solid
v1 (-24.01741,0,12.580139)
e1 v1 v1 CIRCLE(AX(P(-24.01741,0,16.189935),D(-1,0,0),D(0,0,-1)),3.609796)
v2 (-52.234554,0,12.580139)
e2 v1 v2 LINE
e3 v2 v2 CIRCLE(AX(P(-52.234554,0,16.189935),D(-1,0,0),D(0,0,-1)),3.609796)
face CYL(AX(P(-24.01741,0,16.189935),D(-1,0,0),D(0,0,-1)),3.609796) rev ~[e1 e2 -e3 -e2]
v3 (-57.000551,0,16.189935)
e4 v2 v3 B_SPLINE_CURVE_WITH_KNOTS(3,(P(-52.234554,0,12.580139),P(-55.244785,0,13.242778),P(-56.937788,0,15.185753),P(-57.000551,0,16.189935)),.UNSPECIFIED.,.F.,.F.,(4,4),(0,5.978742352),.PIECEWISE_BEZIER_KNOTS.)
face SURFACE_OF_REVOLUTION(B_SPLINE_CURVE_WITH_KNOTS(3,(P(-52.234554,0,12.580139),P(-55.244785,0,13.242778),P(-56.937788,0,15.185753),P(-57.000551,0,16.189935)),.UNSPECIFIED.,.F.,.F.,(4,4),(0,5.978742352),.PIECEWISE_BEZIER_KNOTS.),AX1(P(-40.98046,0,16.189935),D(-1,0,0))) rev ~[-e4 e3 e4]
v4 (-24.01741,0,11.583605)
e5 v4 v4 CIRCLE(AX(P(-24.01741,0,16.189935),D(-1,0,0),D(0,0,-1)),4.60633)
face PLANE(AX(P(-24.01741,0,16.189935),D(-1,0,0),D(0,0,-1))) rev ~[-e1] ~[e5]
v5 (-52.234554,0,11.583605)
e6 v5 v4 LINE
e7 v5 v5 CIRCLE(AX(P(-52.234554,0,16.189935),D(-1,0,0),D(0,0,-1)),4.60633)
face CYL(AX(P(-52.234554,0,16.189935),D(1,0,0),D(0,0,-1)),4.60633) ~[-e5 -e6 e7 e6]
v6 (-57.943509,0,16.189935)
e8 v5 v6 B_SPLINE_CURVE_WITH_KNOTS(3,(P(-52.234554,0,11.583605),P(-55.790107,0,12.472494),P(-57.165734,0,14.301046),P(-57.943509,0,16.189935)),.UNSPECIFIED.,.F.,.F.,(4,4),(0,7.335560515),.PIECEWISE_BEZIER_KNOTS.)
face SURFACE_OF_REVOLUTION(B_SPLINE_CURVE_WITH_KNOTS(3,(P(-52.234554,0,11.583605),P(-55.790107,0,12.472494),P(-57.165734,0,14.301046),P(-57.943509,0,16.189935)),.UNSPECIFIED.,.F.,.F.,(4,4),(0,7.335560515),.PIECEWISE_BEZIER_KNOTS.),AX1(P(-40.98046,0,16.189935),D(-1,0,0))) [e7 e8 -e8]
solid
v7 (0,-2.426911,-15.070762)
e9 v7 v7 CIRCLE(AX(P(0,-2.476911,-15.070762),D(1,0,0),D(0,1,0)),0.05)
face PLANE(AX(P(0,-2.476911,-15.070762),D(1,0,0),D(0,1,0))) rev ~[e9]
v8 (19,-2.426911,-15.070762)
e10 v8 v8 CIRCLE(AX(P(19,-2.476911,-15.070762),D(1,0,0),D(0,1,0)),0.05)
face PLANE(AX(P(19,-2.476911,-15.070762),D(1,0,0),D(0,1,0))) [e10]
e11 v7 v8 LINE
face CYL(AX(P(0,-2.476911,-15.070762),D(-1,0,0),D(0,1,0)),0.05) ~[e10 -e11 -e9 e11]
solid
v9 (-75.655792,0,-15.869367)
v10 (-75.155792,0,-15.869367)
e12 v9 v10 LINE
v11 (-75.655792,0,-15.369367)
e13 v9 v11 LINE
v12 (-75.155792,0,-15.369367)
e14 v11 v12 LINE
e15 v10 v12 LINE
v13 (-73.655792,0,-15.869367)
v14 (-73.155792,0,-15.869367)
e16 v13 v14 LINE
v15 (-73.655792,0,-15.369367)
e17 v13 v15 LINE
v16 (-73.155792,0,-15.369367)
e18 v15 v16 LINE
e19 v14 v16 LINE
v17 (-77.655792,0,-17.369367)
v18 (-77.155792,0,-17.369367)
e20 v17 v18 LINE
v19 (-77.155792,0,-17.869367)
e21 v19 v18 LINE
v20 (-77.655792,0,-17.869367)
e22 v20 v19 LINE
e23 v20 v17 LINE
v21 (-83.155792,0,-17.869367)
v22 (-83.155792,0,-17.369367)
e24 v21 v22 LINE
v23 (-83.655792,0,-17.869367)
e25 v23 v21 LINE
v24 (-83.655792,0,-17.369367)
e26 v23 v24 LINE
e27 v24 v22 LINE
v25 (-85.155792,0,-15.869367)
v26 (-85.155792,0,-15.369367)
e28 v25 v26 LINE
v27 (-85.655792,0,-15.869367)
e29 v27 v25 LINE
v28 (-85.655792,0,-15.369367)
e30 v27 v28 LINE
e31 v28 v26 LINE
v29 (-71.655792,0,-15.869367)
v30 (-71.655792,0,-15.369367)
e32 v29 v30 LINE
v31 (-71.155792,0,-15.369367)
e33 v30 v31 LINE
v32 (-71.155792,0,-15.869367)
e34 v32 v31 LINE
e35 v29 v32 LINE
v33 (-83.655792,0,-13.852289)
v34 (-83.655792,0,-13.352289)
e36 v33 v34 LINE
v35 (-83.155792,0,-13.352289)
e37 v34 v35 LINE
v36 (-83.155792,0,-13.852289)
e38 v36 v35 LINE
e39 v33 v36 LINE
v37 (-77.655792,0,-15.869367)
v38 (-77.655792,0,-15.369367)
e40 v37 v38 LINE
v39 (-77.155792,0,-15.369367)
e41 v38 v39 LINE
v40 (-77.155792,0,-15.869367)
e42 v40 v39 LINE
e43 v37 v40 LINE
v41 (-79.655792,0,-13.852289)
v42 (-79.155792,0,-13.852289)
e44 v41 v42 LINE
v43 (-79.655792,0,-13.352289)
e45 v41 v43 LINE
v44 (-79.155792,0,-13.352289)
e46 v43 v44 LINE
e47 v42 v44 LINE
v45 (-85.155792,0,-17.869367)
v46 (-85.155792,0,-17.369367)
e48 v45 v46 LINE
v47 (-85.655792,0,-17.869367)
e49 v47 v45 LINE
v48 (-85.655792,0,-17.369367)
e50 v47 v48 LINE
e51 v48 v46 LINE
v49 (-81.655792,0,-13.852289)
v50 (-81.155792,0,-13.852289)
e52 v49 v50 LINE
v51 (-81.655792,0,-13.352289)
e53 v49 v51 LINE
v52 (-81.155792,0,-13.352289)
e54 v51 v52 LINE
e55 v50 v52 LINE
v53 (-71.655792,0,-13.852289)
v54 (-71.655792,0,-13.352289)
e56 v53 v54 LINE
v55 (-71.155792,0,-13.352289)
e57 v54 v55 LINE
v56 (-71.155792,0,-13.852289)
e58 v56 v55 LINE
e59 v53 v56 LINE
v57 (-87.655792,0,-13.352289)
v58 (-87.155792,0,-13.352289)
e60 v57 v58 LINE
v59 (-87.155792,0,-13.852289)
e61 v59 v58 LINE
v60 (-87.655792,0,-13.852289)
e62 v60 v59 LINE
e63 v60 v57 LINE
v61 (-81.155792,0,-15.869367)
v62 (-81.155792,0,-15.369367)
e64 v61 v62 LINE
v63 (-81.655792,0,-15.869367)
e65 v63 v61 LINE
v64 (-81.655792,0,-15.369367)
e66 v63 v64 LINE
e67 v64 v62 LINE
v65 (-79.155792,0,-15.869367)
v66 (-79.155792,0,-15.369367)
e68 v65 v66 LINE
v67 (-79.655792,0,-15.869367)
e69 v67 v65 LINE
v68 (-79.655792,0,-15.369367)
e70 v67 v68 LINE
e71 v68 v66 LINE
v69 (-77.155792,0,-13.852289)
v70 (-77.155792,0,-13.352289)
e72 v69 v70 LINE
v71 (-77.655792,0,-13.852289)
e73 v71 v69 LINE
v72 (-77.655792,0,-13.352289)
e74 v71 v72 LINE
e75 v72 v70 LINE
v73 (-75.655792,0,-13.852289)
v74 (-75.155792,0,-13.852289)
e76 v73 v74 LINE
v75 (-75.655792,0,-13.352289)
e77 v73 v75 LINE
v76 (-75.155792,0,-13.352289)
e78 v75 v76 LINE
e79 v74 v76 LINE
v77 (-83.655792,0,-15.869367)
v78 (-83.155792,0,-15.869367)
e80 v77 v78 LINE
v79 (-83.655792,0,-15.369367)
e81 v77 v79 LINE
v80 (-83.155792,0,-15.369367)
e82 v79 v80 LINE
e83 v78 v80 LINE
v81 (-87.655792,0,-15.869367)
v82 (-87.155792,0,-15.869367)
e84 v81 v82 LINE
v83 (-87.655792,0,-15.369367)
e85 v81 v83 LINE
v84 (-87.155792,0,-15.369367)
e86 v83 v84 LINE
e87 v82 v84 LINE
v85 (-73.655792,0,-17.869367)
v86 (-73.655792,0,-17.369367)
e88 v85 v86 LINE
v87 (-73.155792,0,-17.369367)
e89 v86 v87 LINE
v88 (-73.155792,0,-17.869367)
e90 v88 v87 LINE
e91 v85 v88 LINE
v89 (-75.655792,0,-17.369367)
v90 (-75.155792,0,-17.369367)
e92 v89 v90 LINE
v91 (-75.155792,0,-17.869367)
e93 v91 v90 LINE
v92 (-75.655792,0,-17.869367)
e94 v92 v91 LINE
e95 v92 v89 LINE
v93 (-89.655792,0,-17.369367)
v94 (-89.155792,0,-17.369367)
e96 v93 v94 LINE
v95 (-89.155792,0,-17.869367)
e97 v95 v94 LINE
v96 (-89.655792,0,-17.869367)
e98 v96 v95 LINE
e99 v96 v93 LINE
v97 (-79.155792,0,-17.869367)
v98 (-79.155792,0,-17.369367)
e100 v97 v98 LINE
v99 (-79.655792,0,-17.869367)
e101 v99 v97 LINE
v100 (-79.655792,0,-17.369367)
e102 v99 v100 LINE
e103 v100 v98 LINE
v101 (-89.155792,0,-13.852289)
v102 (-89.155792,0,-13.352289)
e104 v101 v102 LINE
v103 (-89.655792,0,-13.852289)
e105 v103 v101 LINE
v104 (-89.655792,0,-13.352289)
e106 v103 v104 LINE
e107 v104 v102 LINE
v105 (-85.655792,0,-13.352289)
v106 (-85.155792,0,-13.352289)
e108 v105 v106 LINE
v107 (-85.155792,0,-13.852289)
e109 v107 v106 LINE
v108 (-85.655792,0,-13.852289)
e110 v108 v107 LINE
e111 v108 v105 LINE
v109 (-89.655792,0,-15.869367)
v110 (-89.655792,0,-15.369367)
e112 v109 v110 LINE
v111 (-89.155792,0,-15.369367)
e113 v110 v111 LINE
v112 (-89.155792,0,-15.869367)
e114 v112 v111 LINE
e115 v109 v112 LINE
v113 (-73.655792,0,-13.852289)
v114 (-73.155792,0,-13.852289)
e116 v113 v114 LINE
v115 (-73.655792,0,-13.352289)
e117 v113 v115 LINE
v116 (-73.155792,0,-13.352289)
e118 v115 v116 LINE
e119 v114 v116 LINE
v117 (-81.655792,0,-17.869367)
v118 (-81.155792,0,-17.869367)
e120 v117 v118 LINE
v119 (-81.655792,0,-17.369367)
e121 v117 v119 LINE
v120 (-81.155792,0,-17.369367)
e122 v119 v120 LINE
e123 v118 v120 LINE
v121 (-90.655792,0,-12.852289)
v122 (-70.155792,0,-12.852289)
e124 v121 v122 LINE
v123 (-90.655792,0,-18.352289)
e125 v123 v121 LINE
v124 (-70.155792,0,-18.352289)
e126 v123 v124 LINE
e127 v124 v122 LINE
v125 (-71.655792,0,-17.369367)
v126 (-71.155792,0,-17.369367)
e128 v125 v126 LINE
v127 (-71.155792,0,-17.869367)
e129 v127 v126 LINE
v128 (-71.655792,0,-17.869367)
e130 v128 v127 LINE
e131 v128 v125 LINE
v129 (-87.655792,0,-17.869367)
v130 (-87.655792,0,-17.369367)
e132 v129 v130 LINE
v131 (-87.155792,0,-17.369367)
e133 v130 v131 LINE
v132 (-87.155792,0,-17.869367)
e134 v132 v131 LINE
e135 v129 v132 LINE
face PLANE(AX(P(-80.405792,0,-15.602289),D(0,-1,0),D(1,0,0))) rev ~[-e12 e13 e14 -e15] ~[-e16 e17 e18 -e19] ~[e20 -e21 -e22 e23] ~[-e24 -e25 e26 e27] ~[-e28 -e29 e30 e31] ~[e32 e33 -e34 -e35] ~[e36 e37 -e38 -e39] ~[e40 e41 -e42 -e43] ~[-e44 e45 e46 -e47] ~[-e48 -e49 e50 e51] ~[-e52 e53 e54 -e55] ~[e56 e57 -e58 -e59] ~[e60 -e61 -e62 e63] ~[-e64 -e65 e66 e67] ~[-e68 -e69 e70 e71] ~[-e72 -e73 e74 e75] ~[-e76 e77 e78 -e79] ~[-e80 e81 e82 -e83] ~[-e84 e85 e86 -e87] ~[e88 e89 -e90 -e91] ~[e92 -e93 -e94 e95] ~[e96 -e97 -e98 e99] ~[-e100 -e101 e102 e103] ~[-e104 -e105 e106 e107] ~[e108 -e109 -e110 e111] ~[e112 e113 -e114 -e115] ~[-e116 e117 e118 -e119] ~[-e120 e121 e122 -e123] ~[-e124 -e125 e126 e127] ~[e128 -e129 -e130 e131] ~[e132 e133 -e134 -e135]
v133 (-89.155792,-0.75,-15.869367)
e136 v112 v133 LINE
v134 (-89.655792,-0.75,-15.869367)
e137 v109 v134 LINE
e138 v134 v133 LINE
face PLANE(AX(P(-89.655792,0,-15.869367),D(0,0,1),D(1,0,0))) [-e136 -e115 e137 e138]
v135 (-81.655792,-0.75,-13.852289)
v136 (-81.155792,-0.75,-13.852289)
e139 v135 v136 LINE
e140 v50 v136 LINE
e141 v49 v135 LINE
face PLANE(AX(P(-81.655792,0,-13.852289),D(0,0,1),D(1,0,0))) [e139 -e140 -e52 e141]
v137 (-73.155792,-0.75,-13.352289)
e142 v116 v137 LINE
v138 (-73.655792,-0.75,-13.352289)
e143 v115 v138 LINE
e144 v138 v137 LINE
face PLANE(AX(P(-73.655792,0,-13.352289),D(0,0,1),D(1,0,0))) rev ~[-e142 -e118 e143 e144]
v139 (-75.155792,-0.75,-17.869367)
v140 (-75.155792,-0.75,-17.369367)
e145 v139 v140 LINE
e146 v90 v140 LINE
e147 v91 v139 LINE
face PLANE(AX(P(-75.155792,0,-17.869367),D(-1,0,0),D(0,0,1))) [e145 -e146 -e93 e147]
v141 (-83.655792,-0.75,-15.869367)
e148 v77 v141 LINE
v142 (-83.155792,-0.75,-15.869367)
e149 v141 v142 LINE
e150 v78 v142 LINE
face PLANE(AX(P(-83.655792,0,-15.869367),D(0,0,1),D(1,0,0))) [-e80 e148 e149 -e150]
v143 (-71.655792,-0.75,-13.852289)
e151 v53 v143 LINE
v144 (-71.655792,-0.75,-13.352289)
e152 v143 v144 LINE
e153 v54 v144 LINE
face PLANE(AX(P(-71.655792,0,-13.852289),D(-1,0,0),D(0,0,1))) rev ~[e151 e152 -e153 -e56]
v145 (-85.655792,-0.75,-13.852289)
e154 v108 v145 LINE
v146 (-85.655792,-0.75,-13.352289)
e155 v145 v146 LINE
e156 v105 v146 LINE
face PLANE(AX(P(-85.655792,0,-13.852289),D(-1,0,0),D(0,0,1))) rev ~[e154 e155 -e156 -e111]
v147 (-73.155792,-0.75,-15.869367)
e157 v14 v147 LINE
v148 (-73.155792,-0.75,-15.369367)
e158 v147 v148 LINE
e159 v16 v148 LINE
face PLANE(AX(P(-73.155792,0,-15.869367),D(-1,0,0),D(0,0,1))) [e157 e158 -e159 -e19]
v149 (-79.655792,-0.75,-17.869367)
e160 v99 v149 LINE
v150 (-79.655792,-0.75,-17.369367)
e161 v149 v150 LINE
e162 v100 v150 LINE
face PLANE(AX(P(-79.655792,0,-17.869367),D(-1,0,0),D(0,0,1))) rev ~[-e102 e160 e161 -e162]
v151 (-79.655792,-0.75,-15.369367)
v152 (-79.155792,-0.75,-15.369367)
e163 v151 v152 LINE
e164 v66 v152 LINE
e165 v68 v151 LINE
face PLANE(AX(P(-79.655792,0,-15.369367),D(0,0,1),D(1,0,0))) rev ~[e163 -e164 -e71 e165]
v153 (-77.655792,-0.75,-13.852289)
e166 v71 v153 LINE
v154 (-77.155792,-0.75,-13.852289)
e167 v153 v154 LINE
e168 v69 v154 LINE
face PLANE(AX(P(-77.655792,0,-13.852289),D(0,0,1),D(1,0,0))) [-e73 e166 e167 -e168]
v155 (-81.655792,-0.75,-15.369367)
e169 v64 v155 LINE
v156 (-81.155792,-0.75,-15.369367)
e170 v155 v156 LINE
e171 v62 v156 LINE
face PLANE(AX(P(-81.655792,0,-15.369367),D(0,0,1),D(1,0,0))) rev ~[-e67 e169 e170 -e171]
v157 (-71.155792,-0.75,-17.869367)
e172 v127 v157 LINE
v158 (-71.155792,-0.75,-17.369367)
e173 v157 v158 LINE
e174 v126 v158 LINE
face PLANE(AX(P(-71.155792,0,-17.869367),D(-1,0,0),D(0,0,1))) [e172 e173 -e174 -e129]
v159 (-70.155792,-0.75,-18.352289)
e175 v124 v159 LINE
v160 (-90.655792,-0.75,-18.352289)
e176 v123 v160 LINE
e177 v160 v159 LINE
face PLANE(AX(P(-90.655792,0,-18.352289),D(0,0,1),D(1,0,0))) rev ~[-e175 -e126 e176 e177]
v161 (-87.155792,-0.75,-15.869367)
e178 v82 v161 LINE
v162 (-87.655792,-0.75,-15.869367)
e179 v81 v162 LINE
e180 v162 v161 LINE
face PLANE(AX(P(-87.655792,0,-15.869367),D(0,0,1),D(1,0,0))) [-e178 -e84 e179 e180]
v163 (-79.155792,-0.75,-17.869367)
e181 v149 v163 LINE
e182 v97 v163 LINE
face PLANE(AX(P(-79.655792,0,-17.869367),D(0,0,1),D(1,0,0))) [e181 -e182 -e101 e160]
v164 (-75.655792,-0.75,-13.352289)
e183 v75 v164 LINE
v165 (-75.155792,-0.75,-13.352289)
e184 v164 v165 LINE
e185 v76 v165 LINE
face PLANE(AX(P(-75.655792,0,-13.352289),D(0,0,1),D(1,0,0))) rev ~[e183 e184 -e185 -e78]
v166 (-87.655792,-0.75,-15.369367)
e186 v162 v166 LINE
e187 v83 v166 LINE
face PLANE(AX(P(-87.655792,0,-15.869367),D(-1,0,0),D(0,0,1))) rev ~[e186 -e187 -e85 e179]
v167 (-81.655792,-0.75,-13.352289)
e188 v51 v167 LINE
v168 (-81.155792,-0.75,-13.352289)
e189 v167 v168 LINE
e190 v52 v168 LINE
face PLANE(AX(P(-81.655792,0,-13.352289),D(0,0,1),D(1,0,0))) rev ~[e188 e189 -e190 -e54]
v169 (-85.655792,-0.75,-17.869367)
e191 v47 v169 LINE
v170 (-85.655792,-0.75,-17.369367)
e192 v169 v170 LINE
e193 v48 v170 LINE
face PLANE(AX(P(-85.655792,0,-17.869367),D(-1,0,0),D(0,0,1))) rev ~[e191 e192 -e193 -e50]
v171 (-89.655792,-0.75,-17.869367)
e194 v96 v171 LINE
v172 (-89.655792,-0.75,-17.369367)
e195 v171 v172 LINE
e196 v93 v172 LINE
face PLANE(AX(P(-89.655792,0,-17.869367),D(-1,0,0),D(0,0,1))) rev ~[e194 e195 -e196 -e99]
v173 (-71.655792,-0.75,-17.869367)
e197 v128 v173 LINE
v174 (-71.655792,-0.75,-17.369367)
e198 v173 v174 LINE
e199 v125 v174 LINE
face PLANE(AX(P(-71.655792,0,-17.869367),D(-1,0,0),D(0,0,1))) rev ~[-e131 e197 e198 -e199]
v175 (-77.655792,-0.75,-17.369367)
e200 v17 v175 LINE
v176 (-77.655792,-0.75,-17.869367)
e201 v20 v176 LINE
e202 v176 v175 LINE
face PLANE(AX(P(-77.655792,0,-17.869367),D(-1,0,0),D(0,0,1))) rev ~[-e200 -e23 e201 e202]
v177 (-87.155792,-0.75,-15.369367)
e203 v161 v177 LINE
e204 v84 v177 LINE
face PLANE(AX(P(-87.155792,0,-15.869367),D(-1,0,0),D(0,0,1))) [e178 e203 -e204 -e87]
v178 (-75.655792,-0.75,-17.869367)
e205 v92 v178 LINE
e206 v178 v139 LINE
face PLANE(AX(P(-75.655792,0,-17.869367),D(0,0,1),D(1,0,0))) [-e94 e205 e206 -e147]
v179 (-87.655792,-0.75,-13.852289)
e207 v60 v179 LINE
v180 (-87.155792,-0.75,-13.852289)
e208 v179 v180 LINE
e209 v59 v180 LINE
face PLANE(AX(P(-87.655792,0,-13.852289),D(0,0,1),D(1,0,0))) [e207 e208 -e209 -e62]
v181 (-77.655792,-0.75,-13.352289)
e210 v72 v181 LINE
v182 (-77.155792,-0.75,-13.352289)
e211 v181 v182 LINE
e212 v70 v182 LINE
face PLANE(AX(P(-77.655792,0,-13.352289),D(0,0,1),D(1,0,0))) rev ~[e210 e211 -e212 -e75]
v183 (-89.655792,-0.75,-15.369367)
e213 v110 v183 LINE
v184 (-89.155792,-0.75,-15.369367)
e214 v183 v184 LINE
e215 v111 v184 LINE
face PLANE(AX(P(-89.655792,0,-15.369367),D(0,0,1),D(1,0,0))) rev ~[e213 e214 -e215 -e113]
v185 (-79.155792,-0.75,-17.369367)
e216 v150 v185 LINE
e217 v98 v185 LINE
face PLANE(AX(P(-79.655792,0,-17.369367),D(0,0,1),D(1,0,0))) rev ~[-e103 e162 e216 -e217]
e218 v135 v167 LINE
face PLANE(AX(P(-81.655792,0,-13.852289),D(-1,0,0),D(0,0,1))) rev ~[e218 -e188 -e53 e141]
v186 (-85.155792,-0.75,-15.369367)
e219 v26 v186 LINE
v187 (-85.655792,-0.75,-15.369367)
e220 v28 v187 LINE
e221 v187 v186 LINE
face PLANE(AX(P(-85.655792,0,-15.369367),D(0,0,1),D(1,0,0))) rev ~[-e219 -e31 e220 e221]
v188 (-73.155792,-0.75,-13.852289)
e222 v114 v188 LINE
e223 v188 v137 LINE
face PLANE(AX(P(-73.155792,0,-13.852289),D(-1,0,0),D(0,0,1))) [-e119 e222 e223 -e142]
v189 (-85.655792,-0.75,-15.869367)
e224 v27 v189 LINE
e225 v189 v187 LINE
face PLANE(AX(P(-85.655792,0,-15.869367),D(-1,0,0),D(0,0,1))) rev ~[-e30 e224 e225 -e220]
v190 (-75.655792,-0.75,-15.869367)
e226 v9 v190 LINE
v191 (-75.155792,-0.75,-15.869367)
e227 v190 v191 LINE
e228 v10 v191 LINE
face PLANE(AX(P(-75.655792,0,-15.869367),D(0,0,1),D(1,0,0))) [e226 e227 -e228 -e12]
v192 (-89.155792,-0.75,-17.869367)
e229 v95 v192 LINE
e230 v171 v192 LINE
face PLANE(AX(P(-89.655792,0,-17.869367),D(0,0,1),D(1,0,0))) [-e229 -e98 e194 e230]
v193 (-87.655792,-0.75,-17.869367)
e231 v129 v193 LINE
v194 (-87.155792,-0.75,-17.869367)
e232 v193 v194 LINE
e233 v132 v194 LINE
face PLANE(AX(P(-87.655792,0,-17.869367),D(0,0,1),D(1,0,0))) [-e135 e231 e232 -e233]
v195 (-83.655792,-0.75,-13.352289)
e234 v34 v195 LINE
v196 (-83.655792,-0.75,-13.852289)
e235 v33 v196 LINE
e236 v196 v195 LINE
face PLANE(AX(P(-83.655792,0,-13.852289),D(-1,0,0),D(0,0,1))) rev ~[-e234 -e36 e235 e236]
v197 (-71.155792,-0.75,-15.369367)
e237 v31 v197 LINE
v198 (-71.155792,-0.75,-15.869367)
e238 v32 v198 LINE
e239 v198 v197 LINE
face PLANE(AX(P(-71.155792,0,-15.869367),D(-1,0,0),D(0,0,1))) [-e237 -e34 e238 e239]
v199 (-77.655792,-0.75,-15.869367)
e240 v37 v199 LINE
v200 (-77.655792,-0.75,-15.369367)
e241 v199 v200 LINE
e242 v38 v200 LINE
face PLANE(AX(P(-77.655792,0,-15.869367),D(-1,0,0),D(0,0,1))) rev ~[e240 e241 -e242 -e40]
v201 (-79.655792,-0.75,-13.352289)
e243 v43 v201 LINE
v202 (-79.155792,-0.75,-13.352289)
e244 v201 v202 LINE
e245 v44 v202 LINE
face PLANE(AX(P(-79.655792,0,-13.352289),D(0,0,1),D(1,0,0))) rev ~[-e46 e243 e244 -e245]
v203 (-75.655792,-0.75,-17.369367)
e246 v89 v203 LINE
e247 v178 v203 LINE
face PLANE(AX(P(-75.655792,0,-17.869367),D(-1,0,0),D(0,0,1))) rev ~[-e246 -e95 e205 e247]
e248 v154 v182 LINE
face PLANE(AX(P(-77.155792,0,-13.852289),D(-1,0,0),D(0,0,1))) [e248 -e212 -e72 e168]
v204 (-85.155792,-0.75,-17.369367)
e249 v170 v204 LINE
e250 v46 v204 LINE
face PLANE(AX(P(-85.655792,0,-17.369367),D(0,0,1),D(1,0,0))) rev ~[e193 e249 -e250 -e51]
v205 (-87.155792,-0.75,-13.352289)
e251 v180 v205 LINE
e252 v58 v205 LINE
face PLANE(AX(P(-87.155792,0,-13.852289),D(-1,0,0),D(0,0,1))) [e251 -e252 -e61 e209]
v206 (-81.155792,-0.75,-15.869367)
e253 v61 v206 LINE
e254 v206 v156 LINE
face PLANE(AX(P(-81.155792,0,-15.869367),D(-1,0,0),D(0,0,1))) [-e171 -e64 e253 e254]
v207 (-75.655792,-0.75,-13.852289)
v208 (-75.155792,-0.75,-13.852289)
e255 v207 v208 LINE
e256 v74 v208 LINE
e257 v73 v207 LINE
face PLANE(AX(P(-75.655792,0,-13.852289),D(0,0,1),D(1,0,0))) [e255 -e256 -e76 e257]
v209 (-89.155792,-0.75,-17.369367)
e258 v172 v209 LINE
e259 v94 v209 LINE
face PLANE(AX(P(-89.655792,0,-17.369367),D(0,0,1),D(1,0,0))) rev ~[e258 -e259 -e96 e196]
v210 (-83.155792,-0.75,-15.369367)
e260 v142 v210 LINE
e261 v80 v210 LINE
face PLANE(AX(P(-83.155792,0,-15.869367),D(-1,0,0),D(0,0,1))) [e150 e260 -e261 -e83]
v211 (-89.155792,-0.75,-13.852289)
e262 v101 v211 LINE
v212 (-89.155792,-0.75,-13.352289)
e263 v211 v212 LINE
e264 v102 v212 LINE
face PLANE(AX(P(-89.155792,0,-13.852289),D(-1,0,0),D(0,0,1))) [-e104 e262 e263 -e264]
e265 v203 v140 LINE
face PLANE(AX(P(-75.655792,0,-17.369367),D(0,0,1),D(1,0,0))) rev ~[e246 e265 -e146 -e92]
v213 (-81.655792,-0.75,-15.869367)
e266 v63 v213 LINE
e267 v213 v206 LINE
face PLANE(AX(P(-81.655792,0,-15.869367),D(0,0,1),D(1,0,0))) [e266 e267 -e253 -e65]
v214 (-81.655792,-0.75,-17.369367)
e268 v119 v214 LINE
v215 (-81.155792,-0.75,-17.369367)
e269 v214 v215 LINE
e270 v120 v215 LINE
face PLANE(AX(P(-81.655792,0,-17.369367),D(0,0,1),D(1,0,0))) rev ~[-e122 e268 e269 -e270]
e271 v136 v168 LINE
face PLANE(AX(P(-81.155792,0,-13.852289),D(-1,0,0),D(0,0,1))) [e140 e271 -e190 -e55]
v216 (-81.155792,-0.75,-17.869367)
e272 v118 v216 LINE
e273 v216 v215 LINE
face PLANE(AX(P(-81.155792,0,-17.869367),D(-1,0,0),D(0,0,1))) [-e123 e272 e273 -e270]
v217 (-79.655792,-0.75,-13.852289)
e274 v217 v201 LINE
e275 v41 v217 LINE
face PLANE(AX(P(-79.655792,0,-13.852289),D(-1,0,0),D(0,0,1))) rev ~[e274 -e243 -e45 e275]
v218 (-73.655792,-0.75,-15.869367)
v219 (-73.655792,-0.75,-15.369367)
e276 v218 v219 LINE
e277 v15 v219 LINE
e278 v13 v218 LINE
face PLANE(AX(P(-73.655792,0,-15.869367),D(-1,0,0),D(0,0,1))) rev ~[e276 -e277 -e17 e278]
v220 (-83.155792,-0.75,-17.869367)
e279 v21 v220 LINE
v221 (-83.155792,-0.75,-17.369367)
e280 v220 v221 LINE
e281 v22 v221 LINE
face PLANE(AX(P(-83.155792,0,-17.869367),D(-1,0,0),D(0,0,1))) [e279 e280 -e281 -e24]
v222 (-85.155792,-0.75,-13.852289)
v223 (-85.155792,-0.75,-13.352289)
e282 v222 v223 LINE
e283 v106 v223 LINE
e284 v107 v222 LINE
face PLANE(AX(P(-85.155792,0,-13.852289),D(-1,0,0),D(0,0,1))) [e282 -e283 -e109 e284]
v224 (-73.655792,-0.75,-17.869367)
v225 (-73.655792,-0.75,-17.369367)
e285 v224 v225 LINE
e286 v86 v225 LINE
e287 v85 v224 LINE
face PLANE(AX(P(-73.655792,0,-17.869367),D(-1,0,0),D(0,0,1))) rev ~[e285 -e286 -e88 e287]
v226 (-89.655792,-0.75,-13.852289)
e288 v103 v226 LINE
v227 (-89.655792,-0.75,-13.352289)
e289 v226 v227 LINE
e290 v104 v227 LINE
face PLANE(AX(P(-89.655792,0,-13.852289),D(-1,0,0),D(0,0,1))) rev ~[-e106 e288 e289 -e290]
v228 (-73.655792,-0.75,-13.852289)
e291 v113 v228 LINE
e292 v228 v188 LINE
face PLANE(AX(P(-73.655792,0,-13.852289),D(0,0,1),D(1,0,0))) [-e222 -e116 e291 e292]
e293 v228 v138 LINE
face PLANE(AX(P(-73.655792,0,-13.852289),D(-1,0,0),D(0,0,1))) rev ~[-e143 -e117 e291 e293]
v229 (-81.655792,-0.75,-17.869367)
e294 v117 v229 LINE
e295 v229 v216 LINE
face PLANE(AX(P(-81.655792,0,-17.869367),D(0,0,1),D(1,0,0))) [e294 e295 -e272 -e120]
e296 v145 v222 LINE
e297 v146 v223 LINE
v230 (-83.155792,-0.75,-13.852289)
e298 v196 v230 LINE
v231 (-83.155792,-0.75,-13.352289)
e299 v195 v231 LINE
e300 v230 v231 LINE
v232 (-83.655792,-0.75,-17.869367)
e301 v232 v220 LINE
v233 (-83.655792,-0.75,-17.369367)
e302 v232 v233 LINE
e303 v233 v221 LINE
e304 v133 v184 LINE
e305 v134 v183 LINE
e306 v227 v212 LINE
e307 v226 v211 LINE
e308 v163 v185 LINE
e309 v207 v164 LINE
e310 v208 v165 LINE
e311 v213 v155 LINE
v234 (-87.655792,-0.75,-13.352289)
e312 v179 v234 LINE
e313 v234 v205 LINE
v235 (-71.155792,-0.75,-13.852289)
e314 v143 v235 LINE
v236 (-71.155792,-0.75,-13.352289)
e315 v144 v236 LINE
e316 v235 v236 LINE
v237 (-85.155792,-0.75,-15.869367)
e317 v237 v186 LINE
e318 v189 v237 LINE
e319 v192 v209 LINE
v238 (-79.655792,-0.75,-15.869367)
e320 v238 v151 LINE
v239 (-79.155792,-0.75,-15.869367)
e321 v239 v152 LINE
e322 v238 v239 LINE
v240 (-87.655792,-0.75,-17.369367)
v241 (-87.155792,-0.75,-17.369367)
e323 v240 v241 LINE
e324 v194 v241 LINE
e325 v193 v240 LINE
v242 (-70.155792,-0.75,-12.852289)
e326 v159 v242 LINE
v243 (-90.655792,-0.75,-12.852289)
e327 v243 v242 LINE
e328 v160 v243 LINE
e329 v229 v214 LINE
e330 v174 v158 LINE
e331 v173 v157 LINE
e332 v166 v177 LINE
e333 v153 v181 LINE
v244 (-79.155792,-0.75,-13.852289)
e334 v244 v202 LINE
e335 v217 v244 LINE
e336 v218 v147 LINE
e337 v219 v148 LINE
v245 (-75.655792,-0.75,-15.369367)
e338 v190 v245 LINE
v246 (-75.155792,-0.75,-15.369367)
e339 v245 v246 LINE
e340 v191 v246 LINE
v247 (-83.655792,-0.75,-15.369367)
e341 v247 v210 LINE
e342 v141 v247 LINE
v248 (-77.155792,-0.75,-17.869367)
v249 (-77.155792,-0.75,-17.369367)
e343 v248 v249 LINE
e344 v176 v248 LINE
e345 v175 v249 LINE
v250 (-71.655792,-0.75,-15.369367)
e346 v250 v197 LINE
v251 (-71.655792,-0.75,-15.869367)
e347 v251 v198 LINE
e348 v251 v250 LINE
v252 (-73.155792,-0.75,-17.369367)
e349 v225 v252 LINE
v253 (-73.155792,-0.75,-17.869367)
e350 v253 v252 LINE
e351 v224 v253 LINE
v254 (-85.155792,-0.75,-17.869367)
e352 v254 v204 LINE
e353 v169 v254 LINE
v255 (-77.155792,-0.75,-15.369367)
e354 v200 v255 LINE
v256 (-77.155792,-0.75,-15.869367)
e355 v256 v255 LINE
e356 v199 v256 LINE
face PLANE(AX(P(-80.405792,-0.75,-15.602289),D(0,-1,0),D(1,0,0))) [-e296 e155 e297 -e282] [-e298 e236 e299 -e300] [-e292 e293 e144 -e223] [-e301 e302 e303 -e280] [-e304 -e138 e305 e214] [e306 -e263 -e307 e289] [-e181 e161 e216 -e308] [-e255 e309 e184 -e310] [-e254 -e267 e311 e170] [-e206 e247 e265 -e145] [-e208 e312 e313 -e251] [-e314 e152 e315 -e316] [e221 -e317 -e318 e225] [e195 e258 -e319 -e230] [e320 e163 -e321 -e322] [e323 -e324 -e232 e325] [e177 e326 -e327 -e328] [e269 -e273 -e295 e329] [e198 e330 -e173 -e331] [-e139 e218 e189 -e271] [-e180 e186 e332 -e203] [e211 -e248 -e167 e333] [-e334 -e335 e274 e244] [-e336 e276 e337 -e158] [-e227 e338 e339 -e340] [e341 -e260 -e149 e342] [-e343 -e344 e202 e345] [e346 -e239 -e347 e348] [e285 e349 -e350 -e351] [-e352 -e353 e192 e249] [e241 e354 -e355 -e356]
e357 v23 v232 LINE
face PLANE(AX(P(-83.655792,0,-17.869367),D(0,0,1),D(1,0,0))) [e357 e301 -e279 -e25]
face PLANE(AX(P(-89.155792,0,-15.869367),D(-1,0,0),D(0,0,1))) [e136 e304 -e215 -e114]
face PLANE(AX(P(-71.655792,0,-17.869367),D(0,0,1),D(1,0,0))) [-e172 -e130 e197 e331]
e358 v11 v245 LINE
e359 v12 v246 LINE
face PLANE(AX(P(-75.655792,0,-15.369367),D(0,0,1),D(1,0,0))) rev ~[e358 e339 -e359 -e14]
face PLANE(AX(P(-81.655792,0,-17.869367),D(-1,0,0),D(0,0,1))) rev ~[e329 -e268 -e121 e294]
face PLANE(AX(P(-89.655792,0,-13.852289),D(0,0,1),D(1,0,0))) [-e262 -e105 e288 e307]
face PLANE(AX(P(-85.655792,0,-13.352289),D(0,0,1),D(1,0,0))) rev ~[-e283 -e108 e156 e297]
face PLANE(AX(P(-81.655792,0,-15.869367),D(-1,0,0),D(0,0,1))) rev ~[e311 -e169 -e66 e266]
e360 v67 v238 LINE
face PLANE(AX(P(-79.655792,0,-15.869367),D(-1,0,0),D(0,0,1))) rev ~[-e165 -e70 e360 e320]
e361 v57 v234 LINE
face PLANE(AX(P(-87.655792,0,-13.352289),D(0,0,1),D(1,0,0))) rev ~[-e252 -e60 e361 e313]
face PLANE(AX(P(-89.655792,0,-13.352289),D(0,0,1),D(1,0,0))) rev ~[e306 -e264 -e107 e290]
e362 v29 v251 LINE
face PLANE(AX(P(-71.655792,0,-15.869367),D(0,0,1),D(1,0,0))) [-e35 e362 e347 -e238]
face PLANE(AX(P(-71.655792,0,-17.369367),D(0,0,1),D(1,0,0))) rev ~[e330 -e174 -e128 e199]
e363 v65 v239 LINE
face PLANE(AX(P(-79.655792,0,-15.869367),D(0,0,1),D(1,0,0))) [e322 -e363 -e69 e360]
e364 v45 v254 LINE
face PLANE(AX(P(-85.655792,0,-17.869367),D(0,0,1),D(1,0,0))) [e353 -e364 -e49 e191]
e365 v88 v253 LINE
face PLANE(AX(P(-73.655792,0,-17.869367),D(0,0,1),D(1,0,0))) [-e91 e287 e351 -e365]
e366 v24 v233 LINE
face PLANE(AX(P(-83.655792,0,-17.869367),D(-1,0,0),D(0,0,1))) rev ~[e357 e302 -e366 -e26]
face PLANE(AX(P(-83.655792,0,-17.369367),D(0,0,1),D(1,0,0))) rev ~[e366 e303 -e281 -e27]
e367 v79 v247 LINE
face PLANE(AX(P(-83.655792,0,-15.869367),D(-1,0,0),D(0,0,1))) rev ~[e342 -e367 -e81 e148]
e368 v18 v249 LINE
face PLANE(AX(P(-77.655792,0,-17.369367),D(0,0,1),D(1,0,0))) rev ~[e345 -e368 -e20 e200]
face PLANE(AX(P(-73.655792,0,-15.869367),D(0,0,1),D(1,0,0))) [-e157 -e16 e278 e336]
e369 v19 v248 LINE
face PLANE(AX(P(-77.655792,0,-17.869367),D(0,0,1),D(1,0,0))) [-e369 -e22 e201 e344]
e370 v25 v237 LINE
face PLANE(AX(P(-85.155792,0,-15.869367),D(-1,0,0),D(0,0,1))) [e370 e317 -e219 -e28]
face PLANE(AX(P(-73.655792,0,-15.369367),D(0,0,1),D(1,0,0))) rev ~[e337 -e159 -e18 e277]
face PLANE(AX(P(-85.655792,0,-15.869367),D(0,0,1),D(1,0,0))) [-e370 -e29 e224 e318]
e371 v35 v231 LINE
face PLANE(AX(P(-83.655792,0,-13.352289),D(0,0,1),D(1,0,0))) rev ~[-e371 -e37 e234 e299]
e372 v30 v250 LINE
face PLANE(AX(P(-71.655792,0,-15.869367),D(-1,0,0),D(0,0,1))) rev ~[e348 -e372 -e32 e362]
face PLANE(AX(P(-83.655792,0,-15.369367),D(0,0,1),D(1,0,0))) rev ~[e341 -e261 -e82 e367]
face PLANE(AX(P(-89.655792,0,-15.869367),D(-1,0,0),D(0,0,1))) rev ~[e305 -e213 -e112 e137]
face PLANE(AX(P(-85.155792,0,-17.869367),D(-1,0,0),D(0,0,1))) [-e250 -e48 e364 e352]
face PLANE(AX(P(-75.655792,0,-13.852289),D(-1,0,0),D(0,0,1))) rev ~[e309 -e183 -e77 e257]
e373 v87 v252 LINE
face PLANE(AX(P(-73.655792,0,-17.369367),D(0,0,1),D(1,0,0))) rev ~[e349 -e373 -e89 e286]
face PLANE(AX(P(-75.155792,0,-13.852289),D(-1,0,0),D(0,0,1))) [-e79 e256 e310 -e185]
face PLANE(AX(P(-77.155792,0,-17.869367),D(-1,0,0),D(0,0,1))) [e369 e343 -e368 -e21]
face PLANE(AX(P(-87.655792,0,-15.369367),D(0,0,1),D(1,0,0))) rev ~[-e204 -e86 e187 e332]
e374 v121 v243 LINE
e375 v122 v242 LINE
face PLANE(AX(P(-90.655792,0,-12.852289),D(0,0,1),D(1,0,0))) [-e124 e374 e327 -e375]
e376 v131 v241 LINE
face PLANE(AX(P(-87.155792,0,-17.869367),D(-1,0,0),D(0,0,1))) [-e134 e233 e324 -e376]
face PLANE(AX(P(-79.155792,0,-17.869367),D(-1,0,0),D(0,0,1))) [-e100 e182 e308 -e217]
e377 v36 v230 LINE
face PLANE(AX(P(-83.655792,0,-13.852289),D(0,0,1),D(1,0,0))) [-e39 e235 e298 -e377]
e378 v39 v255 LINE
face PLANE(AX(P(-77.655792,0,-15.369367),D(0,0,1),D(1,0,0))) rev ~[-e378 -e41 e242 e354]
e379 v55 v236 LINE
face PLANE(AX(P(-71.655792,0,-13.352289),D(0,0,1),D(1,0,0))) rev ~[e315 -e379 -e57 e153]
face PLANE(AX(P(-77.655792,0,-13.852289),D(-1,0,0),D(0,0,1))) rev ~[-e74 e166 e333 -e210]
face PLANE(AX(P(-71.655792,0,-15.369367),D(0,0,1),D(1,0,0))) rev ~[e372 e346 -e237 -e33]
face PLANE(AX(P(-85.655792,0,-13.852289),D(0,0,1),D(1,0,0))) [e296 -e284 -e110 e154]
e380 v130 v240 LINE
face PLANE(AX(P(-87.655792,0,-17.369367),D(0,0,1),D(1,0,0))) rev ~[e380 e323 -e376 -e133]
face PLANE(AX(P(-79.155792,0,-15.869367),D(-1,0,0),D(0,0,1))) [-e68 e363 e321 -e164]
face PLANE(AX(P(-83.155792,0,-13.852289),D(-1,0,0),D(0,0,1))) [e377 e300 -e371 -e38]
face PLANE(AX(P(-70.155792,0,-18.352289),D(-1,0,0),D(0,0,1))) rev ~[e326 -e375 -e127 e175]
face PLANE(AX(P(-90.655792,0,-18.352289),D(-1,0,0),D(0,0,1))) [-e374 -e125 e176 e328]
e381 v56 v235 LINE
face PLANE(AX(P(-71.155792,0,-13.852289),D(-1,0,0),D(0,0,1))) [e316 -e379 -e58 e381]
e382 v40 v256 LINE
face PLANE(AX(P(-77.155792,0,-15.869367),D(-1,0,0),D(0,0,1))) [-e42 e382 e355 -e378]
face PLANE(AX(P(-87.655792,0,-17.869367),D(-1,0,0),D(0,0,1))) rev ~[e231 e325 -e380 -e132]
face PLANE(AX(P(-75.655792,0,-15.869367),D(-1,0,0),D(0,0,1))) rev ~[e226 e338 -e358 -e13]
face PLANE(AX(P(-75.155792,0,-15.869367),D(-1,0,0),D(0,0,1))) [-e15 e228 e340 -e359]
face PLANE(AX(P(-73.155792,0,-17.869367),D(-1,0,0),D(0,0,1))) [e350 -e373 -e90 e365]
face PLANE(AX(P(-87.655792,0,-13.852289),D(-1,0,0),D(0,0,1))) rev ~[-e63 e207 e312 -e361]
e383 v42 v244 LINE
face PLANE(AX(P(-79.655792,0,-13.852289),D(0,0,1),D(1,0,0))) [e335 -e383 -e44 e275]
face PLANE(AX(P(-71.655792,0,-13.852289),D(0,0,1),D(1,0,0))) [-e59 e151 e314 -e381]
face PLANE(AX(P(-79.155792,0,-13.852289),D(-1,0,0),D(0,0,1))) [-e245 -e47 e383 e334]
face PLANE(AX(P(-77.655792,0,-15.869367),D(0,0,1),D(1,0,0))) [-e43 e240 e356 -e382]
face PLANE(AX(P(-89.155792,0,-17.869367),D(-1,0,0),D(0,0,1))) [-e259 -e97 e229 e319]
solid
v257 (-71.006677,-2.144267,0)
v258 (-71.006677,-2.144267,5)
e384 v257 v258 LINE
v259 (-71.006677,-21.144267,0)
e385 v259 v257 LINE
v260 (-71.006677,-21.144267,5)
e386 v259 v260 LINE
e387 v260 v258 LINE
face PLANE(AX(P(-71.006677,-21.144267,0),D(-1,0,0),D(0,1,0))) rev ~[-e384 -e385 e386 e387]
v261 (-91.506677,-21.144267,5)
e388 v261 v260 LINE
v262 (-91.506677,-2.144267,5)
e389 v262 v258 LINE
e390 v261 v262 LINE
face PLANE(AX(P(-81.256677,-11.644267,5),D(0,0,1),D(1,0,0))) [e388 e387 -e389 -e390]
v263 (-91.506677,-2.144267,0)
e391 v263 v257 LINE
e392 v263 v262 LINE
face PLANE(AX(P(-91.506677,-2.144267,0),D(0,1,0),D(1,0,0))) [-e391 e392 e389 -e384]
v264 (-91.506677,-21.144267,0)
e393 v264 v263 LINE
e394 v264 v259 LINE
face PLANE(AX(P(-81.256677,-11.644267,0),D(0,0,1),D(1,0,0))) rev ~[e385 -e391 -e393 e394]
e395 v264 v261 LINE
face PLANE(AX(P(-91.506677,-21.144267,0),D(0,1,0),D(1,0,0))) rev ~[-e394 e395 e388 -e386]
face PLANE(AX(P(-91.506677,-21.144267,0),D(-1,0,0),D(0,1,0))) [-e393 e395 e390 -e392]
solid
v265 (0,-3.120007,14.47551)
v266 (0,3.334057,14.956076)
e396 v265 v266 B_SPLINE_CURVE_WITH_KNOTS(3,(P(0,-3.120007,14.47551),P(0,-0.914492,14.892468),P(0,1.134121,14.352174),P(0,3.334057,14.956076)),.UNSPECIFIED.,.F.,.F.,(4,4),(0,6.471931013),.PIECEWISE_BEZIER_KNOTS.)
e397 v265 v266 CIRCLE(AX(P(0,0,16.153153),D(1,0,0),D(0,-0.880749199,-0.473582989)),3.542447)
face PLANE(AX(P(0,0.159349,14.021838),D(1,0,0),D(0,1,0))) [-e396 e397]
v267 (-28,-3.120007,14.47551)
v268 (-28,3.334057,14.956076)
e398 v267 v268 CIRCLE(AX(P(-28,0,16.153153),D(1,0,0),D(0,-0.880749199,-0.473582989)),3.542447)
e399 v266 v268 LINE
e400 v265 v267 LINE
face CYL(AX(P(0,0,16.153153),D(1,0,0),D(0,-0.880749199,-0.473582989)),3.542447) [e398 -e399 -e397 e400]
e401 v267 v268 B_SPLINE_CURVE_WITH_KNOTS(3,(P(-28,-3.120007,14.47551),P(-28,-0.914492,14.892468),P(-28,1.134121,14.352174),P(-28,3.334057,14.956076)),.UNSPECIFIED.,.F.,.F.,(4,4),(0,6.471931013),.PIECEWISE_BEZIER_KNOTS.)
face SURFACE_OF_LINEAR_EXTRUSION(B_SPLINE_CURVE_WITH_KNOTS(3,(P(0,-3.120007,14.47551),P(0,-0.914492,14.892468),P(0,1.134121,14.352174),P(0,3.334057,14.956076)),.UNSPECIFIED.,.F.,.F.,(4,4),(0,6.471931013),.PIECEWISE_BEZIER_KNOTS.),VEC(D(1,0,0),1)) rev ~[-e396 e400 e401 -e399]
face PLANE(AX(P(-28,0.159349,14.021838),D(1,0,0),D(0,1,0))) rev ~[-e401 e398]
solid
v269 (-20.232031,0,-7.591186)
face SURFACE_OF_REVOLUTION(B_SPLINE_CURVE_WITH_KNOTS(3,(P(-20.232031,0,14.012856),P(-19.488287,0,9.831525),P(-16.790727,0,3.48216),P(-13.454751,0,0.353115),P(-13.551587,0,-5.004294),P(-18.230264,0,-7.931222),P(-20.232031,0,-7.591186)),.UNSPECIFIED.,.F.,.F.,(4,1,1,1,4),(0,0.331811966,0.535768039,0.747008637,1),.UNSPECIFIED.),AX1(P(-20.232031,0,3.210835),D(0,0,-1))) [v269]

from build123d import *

# Parameters (mm, degrees)
F0_W      = 20.5
F0_H      = 5.5
F0_W_2    = 0.5
F0_H_2    = 0.5
F1_DEPTH  = 0.75
F2_R      = 0.05
F3_DEPTH  = 19
F4_W      = 20.5
F4_H      = 19
F5_DEPTH  = 5
F11_DEPTH = 28


with BuildPart() as f1:
    # F0 (on Front) → F1 (new body)
    with BuildSketch(Plane.XZ):
        with Locations((-80.4057919383, -15.6022887528)):
            Rectangle(F0_W, F0_H)
        with Locations((-89.4057919383, -17.6193666086)):
            Rectangle(F0_W_2, F0_H_2, mode=Mode.SUBTRACT)
        with Locations((-87.4057919383, -17.6193666086)):
            Rectangle(F0_W_2, F0_H_2, mode=Mode.SUBTRACT)
        with Locations((-85.4057919383, -17.6193666086)):
            Rectangle(F0_W_2, F0_H_2, mode=Mode.SUBTRACT)
        with Locations((-83.4057919383, -17.6193666086)):
            Rectangle(F0_W_2, F0_H_2, mode=Mode.SUBTRACT)
        with Locations((-81.4057919383, -17.6193666086)):
            Rectangle(F0_W_2, F0_H_2, mode=Mode.SUBTRACT)
        with Locations((-89.4057919383, -15.6193666086)):
            Rectangle(F0_W_2, F0_H_2, mode=Mode.SUBTRACT)
        with Locations((-87.4057919383, -15.6193666086)):
            Rectangle(F0_W_2, F0_H_2, mode=Mode.SUBTRACT)
        with Locations((-85.4057919383, -15.6193666086)):
            Rectangle(F0_W_2, F0_H_2, mode=Mode.SUBTRACT)
        with Locations((-83.4057919383, -15.6193666086)):
            Rectangle(F0_W_2, F0_H_2, mode=Mode.SUBTRACT)
        with Locations((-81.4057919383, -15.6193666086)):
            Rectangle(F0_W_2, F0_H_2, mode=Mode.SUBTRACT)
        with Locations((-79.4057919383, -17.6193666086)):
            Rectangle(F0_W_2, F0_H_2, mode=Mode.SUBTRACT)
        with Locations((-77.4057919383, -17.6193666086)):
            Rectangle(F0_W_2, F0_H_2, mode=Mode.SUBTRACT)
        with Locations((-75.4057919383, -17.6193666086)):
            Rectangle(F0_W_2, F0_H_2, mode=Mode.SUBTRACT)
        with Locations((-73.4057919383, -17.6193666086)):
            Rectangle(F0_W_2, F0_H_2, mode=Mode.SUBTRACT)
        with Locations((-71.4057919383, -17.6193666086)):
            Rectangle(F0_W_2, F0_H_2, mode=Mode.SUBTRACT)
        with Locations((-79.4057919383, -15.6193666086)):
            Rectangle(F0_W_2, F0_H_2, mode=Mode.SUBTRACT)
        with Locations((-77.4057919383, -15.6193666086)):
            Rectangle(F0_W_2, F0_H_2, mode=Mode.SUBTRACT)
        with Locations((-75.4057919383, -15.6193666086)):
            Rectangle(F0_W_2, F0_H_2, mode=Mode.SUBTRACT)
        with Locations((-73.4057919383, -15.6193666086)):
            Rectangle(F0_W_2, F0_H_2, mode=Mode.SUBTRACT)
        with Locations((-71.4057919383, -15.6193666086)):
            Rectangle(F0_W_2, F0_H_2, mode=Mode.SUBTRACT)
        with Locations((-89.4057919383, -13.6022887528)):
            Rectangle(F0_W_2, F0_H_2, mode=Mode.SUBTRACT)
        with Locations((-87.4057919383, -13.6022887528)):
            Rectangle(F0_W_2, F0_H_2, mode=Mode.SUBTRACT)
        with Locations((-85.4057919383, -13.6022887528)):
            Rectangle(F0_W_2, F0_H_2, mode=Mode.SUBTRACT)
        with Locations((-83.4057919383, -13.6022887528)):
            Rectangle(F0_W_2, F0_H_2, mode=Mode.SUBTRACT)
        with Locations((-81.4057919383, -13.6022887528)):
            Rectangle(F0_W_2, F0_H_2, mode=Mode.SUBTRACT)
        with Locations((-79.4057919383, -13.6022887528)):
            Rectangle(F0_W_2, F0_H_2, mode=Mode.SUBTRACT)
        with Locations((-77.4057919383, -13.6022887528)):
            Rectangle(F0_W_2, F0_H_2, mode=Mode.SUBTRACT)
        with Locations((-75.4057919383, -13.6022887528)):
            Rectangle(F0_W_2, F0_H_2, mode=Mode.SUBTRACT)
        with Locations((-73.4057919383, -13.6022887528)):
            Rectangle(F0_W_2, F0_H_2, mode=Mode.SUBTRACT)
        with Locations((-71.4057919383, -13.6022887528)):
            Rectangle(F0_W_2, F0_H_2, mode=Mode.SUBTRACT)
    extrude(amount=F1_DEPTH)


with BuildPart() as f3:
    # F2 (on Right) → F3 (new body)
    with BuildSketch(Plane.YZ):
        with Locations((-2.4769112933, -15.0707624853)):
            Circle(F2_R)
    extrude(amount=F3_DEPTH)


with BuildPart() as f5:
    # F4 (on Top) → F5 (new body)
    with BuildSketch(Plane.XY):
        with Locations((-81.2566767027, -11.6442674911)):
            Rectangle(F4_W, F4_H)
    extrude(amount=F5_DEPTH)


with BuildPart() as f7:
    # F6 (on Front) → F7 (revolve)
    with BuildSketch(Plane.XZ):
        with BuildLine():
            add(Edge.make_bspline(
                [(-20.2320311219, 14.012856409), (-19.4882868281, 9.831524928), (-16.7907268646, 3.4821602733), (-13.4547507348, 0.3531147703), (-13.5515865326, -5.0042936466), (-18.2302639247, -7.9312218988), (-20.2320311219, -7.5911860913)],
                knots=[0, 0, 0, 0, 0.3318119663, 0.5357680394, 0.7470086366, 1, 1, 1, 1], degree=3))
            Line((-20.2320311219, 14.012856409), (-20.2320311219, -7.5911860913))
        make_face()
    revolve(axis=Axis((-20.2320311219, 0, 3.2108351588), (0, 0, -1)))


with BuildPart() as f9:
    # F8 (on Front) → F9 (revolve)
    with BuildSketch(Plane.XZ):
        with BuildLine():
            Line((-52.234553832, 11.5836048499), (-24.0174103528, 11.5836048499))
            Line((-24.0174103528, 11.5836048499), (-24.0174103528, 12.5801386312))
            Line((-24.0174103528, 12.5801386312), (-52.234553832, 12.5801386312))
            add(Edge.make_bspline(
                [(-52.234553832, 12.5801386312), (-55.2447848022, 13.2427780745), (-56.9377876818, 15.1857528836), (-57.0005513728, 16.1899346858)],
                knots=[0, 0, 0, 0, 5.9787423523, 5.9787423523, 5.9787423523, 5.9787423523], degree=3))
            Line((-57.0005513728, 16.1899346858), (-57.9435093849, 16.1899346858))
            add(Edge.make_bspline(
                [(-52.234553832, 11.5836048499), (-55.7901070926, 12.4724936345), (-57.1657336934, 14.3010459012), (-57.9435093849, 16.1899346858)],
                knots=[0, 0, 0, 0, 7.3355605146, 7.3355605146, 7.3355605146, 7.3355605146], degree=3))
        make_face()
    revolve(axis=Axis((-40.9804598689, 0, 16.1899346858), (-1, 0, 0)))


with BuildPart() as f11:
    # F10 (on Right) → F11 (new body)
    with BuildSketch(Plane.YZ):
        with BuildLine():
            ThreePointArc((-3.1200072507, 14.4755104502), (0.2630403523, 12.6204855343), (3.3340571662, 14.9560763055))
            add(Edge.make_bspline(
                [(-3.1200072507, 14.4755104502), (-0.9144920623, 14.8924682289), (1.1341209756, 14.3521744758), (3.3340571662, 14.9560763055)],
                knots=[0, 0, 0, 0, 6.4719310132, 6.4719310132, 6.4719310132, 6.4719310132], degree=3))
        make_face()
    extrude(amount=-F11_DEPTH)


solid = Compound([f1.part, f3.part, f5.part, f7.part, f9.part, f11.part])
